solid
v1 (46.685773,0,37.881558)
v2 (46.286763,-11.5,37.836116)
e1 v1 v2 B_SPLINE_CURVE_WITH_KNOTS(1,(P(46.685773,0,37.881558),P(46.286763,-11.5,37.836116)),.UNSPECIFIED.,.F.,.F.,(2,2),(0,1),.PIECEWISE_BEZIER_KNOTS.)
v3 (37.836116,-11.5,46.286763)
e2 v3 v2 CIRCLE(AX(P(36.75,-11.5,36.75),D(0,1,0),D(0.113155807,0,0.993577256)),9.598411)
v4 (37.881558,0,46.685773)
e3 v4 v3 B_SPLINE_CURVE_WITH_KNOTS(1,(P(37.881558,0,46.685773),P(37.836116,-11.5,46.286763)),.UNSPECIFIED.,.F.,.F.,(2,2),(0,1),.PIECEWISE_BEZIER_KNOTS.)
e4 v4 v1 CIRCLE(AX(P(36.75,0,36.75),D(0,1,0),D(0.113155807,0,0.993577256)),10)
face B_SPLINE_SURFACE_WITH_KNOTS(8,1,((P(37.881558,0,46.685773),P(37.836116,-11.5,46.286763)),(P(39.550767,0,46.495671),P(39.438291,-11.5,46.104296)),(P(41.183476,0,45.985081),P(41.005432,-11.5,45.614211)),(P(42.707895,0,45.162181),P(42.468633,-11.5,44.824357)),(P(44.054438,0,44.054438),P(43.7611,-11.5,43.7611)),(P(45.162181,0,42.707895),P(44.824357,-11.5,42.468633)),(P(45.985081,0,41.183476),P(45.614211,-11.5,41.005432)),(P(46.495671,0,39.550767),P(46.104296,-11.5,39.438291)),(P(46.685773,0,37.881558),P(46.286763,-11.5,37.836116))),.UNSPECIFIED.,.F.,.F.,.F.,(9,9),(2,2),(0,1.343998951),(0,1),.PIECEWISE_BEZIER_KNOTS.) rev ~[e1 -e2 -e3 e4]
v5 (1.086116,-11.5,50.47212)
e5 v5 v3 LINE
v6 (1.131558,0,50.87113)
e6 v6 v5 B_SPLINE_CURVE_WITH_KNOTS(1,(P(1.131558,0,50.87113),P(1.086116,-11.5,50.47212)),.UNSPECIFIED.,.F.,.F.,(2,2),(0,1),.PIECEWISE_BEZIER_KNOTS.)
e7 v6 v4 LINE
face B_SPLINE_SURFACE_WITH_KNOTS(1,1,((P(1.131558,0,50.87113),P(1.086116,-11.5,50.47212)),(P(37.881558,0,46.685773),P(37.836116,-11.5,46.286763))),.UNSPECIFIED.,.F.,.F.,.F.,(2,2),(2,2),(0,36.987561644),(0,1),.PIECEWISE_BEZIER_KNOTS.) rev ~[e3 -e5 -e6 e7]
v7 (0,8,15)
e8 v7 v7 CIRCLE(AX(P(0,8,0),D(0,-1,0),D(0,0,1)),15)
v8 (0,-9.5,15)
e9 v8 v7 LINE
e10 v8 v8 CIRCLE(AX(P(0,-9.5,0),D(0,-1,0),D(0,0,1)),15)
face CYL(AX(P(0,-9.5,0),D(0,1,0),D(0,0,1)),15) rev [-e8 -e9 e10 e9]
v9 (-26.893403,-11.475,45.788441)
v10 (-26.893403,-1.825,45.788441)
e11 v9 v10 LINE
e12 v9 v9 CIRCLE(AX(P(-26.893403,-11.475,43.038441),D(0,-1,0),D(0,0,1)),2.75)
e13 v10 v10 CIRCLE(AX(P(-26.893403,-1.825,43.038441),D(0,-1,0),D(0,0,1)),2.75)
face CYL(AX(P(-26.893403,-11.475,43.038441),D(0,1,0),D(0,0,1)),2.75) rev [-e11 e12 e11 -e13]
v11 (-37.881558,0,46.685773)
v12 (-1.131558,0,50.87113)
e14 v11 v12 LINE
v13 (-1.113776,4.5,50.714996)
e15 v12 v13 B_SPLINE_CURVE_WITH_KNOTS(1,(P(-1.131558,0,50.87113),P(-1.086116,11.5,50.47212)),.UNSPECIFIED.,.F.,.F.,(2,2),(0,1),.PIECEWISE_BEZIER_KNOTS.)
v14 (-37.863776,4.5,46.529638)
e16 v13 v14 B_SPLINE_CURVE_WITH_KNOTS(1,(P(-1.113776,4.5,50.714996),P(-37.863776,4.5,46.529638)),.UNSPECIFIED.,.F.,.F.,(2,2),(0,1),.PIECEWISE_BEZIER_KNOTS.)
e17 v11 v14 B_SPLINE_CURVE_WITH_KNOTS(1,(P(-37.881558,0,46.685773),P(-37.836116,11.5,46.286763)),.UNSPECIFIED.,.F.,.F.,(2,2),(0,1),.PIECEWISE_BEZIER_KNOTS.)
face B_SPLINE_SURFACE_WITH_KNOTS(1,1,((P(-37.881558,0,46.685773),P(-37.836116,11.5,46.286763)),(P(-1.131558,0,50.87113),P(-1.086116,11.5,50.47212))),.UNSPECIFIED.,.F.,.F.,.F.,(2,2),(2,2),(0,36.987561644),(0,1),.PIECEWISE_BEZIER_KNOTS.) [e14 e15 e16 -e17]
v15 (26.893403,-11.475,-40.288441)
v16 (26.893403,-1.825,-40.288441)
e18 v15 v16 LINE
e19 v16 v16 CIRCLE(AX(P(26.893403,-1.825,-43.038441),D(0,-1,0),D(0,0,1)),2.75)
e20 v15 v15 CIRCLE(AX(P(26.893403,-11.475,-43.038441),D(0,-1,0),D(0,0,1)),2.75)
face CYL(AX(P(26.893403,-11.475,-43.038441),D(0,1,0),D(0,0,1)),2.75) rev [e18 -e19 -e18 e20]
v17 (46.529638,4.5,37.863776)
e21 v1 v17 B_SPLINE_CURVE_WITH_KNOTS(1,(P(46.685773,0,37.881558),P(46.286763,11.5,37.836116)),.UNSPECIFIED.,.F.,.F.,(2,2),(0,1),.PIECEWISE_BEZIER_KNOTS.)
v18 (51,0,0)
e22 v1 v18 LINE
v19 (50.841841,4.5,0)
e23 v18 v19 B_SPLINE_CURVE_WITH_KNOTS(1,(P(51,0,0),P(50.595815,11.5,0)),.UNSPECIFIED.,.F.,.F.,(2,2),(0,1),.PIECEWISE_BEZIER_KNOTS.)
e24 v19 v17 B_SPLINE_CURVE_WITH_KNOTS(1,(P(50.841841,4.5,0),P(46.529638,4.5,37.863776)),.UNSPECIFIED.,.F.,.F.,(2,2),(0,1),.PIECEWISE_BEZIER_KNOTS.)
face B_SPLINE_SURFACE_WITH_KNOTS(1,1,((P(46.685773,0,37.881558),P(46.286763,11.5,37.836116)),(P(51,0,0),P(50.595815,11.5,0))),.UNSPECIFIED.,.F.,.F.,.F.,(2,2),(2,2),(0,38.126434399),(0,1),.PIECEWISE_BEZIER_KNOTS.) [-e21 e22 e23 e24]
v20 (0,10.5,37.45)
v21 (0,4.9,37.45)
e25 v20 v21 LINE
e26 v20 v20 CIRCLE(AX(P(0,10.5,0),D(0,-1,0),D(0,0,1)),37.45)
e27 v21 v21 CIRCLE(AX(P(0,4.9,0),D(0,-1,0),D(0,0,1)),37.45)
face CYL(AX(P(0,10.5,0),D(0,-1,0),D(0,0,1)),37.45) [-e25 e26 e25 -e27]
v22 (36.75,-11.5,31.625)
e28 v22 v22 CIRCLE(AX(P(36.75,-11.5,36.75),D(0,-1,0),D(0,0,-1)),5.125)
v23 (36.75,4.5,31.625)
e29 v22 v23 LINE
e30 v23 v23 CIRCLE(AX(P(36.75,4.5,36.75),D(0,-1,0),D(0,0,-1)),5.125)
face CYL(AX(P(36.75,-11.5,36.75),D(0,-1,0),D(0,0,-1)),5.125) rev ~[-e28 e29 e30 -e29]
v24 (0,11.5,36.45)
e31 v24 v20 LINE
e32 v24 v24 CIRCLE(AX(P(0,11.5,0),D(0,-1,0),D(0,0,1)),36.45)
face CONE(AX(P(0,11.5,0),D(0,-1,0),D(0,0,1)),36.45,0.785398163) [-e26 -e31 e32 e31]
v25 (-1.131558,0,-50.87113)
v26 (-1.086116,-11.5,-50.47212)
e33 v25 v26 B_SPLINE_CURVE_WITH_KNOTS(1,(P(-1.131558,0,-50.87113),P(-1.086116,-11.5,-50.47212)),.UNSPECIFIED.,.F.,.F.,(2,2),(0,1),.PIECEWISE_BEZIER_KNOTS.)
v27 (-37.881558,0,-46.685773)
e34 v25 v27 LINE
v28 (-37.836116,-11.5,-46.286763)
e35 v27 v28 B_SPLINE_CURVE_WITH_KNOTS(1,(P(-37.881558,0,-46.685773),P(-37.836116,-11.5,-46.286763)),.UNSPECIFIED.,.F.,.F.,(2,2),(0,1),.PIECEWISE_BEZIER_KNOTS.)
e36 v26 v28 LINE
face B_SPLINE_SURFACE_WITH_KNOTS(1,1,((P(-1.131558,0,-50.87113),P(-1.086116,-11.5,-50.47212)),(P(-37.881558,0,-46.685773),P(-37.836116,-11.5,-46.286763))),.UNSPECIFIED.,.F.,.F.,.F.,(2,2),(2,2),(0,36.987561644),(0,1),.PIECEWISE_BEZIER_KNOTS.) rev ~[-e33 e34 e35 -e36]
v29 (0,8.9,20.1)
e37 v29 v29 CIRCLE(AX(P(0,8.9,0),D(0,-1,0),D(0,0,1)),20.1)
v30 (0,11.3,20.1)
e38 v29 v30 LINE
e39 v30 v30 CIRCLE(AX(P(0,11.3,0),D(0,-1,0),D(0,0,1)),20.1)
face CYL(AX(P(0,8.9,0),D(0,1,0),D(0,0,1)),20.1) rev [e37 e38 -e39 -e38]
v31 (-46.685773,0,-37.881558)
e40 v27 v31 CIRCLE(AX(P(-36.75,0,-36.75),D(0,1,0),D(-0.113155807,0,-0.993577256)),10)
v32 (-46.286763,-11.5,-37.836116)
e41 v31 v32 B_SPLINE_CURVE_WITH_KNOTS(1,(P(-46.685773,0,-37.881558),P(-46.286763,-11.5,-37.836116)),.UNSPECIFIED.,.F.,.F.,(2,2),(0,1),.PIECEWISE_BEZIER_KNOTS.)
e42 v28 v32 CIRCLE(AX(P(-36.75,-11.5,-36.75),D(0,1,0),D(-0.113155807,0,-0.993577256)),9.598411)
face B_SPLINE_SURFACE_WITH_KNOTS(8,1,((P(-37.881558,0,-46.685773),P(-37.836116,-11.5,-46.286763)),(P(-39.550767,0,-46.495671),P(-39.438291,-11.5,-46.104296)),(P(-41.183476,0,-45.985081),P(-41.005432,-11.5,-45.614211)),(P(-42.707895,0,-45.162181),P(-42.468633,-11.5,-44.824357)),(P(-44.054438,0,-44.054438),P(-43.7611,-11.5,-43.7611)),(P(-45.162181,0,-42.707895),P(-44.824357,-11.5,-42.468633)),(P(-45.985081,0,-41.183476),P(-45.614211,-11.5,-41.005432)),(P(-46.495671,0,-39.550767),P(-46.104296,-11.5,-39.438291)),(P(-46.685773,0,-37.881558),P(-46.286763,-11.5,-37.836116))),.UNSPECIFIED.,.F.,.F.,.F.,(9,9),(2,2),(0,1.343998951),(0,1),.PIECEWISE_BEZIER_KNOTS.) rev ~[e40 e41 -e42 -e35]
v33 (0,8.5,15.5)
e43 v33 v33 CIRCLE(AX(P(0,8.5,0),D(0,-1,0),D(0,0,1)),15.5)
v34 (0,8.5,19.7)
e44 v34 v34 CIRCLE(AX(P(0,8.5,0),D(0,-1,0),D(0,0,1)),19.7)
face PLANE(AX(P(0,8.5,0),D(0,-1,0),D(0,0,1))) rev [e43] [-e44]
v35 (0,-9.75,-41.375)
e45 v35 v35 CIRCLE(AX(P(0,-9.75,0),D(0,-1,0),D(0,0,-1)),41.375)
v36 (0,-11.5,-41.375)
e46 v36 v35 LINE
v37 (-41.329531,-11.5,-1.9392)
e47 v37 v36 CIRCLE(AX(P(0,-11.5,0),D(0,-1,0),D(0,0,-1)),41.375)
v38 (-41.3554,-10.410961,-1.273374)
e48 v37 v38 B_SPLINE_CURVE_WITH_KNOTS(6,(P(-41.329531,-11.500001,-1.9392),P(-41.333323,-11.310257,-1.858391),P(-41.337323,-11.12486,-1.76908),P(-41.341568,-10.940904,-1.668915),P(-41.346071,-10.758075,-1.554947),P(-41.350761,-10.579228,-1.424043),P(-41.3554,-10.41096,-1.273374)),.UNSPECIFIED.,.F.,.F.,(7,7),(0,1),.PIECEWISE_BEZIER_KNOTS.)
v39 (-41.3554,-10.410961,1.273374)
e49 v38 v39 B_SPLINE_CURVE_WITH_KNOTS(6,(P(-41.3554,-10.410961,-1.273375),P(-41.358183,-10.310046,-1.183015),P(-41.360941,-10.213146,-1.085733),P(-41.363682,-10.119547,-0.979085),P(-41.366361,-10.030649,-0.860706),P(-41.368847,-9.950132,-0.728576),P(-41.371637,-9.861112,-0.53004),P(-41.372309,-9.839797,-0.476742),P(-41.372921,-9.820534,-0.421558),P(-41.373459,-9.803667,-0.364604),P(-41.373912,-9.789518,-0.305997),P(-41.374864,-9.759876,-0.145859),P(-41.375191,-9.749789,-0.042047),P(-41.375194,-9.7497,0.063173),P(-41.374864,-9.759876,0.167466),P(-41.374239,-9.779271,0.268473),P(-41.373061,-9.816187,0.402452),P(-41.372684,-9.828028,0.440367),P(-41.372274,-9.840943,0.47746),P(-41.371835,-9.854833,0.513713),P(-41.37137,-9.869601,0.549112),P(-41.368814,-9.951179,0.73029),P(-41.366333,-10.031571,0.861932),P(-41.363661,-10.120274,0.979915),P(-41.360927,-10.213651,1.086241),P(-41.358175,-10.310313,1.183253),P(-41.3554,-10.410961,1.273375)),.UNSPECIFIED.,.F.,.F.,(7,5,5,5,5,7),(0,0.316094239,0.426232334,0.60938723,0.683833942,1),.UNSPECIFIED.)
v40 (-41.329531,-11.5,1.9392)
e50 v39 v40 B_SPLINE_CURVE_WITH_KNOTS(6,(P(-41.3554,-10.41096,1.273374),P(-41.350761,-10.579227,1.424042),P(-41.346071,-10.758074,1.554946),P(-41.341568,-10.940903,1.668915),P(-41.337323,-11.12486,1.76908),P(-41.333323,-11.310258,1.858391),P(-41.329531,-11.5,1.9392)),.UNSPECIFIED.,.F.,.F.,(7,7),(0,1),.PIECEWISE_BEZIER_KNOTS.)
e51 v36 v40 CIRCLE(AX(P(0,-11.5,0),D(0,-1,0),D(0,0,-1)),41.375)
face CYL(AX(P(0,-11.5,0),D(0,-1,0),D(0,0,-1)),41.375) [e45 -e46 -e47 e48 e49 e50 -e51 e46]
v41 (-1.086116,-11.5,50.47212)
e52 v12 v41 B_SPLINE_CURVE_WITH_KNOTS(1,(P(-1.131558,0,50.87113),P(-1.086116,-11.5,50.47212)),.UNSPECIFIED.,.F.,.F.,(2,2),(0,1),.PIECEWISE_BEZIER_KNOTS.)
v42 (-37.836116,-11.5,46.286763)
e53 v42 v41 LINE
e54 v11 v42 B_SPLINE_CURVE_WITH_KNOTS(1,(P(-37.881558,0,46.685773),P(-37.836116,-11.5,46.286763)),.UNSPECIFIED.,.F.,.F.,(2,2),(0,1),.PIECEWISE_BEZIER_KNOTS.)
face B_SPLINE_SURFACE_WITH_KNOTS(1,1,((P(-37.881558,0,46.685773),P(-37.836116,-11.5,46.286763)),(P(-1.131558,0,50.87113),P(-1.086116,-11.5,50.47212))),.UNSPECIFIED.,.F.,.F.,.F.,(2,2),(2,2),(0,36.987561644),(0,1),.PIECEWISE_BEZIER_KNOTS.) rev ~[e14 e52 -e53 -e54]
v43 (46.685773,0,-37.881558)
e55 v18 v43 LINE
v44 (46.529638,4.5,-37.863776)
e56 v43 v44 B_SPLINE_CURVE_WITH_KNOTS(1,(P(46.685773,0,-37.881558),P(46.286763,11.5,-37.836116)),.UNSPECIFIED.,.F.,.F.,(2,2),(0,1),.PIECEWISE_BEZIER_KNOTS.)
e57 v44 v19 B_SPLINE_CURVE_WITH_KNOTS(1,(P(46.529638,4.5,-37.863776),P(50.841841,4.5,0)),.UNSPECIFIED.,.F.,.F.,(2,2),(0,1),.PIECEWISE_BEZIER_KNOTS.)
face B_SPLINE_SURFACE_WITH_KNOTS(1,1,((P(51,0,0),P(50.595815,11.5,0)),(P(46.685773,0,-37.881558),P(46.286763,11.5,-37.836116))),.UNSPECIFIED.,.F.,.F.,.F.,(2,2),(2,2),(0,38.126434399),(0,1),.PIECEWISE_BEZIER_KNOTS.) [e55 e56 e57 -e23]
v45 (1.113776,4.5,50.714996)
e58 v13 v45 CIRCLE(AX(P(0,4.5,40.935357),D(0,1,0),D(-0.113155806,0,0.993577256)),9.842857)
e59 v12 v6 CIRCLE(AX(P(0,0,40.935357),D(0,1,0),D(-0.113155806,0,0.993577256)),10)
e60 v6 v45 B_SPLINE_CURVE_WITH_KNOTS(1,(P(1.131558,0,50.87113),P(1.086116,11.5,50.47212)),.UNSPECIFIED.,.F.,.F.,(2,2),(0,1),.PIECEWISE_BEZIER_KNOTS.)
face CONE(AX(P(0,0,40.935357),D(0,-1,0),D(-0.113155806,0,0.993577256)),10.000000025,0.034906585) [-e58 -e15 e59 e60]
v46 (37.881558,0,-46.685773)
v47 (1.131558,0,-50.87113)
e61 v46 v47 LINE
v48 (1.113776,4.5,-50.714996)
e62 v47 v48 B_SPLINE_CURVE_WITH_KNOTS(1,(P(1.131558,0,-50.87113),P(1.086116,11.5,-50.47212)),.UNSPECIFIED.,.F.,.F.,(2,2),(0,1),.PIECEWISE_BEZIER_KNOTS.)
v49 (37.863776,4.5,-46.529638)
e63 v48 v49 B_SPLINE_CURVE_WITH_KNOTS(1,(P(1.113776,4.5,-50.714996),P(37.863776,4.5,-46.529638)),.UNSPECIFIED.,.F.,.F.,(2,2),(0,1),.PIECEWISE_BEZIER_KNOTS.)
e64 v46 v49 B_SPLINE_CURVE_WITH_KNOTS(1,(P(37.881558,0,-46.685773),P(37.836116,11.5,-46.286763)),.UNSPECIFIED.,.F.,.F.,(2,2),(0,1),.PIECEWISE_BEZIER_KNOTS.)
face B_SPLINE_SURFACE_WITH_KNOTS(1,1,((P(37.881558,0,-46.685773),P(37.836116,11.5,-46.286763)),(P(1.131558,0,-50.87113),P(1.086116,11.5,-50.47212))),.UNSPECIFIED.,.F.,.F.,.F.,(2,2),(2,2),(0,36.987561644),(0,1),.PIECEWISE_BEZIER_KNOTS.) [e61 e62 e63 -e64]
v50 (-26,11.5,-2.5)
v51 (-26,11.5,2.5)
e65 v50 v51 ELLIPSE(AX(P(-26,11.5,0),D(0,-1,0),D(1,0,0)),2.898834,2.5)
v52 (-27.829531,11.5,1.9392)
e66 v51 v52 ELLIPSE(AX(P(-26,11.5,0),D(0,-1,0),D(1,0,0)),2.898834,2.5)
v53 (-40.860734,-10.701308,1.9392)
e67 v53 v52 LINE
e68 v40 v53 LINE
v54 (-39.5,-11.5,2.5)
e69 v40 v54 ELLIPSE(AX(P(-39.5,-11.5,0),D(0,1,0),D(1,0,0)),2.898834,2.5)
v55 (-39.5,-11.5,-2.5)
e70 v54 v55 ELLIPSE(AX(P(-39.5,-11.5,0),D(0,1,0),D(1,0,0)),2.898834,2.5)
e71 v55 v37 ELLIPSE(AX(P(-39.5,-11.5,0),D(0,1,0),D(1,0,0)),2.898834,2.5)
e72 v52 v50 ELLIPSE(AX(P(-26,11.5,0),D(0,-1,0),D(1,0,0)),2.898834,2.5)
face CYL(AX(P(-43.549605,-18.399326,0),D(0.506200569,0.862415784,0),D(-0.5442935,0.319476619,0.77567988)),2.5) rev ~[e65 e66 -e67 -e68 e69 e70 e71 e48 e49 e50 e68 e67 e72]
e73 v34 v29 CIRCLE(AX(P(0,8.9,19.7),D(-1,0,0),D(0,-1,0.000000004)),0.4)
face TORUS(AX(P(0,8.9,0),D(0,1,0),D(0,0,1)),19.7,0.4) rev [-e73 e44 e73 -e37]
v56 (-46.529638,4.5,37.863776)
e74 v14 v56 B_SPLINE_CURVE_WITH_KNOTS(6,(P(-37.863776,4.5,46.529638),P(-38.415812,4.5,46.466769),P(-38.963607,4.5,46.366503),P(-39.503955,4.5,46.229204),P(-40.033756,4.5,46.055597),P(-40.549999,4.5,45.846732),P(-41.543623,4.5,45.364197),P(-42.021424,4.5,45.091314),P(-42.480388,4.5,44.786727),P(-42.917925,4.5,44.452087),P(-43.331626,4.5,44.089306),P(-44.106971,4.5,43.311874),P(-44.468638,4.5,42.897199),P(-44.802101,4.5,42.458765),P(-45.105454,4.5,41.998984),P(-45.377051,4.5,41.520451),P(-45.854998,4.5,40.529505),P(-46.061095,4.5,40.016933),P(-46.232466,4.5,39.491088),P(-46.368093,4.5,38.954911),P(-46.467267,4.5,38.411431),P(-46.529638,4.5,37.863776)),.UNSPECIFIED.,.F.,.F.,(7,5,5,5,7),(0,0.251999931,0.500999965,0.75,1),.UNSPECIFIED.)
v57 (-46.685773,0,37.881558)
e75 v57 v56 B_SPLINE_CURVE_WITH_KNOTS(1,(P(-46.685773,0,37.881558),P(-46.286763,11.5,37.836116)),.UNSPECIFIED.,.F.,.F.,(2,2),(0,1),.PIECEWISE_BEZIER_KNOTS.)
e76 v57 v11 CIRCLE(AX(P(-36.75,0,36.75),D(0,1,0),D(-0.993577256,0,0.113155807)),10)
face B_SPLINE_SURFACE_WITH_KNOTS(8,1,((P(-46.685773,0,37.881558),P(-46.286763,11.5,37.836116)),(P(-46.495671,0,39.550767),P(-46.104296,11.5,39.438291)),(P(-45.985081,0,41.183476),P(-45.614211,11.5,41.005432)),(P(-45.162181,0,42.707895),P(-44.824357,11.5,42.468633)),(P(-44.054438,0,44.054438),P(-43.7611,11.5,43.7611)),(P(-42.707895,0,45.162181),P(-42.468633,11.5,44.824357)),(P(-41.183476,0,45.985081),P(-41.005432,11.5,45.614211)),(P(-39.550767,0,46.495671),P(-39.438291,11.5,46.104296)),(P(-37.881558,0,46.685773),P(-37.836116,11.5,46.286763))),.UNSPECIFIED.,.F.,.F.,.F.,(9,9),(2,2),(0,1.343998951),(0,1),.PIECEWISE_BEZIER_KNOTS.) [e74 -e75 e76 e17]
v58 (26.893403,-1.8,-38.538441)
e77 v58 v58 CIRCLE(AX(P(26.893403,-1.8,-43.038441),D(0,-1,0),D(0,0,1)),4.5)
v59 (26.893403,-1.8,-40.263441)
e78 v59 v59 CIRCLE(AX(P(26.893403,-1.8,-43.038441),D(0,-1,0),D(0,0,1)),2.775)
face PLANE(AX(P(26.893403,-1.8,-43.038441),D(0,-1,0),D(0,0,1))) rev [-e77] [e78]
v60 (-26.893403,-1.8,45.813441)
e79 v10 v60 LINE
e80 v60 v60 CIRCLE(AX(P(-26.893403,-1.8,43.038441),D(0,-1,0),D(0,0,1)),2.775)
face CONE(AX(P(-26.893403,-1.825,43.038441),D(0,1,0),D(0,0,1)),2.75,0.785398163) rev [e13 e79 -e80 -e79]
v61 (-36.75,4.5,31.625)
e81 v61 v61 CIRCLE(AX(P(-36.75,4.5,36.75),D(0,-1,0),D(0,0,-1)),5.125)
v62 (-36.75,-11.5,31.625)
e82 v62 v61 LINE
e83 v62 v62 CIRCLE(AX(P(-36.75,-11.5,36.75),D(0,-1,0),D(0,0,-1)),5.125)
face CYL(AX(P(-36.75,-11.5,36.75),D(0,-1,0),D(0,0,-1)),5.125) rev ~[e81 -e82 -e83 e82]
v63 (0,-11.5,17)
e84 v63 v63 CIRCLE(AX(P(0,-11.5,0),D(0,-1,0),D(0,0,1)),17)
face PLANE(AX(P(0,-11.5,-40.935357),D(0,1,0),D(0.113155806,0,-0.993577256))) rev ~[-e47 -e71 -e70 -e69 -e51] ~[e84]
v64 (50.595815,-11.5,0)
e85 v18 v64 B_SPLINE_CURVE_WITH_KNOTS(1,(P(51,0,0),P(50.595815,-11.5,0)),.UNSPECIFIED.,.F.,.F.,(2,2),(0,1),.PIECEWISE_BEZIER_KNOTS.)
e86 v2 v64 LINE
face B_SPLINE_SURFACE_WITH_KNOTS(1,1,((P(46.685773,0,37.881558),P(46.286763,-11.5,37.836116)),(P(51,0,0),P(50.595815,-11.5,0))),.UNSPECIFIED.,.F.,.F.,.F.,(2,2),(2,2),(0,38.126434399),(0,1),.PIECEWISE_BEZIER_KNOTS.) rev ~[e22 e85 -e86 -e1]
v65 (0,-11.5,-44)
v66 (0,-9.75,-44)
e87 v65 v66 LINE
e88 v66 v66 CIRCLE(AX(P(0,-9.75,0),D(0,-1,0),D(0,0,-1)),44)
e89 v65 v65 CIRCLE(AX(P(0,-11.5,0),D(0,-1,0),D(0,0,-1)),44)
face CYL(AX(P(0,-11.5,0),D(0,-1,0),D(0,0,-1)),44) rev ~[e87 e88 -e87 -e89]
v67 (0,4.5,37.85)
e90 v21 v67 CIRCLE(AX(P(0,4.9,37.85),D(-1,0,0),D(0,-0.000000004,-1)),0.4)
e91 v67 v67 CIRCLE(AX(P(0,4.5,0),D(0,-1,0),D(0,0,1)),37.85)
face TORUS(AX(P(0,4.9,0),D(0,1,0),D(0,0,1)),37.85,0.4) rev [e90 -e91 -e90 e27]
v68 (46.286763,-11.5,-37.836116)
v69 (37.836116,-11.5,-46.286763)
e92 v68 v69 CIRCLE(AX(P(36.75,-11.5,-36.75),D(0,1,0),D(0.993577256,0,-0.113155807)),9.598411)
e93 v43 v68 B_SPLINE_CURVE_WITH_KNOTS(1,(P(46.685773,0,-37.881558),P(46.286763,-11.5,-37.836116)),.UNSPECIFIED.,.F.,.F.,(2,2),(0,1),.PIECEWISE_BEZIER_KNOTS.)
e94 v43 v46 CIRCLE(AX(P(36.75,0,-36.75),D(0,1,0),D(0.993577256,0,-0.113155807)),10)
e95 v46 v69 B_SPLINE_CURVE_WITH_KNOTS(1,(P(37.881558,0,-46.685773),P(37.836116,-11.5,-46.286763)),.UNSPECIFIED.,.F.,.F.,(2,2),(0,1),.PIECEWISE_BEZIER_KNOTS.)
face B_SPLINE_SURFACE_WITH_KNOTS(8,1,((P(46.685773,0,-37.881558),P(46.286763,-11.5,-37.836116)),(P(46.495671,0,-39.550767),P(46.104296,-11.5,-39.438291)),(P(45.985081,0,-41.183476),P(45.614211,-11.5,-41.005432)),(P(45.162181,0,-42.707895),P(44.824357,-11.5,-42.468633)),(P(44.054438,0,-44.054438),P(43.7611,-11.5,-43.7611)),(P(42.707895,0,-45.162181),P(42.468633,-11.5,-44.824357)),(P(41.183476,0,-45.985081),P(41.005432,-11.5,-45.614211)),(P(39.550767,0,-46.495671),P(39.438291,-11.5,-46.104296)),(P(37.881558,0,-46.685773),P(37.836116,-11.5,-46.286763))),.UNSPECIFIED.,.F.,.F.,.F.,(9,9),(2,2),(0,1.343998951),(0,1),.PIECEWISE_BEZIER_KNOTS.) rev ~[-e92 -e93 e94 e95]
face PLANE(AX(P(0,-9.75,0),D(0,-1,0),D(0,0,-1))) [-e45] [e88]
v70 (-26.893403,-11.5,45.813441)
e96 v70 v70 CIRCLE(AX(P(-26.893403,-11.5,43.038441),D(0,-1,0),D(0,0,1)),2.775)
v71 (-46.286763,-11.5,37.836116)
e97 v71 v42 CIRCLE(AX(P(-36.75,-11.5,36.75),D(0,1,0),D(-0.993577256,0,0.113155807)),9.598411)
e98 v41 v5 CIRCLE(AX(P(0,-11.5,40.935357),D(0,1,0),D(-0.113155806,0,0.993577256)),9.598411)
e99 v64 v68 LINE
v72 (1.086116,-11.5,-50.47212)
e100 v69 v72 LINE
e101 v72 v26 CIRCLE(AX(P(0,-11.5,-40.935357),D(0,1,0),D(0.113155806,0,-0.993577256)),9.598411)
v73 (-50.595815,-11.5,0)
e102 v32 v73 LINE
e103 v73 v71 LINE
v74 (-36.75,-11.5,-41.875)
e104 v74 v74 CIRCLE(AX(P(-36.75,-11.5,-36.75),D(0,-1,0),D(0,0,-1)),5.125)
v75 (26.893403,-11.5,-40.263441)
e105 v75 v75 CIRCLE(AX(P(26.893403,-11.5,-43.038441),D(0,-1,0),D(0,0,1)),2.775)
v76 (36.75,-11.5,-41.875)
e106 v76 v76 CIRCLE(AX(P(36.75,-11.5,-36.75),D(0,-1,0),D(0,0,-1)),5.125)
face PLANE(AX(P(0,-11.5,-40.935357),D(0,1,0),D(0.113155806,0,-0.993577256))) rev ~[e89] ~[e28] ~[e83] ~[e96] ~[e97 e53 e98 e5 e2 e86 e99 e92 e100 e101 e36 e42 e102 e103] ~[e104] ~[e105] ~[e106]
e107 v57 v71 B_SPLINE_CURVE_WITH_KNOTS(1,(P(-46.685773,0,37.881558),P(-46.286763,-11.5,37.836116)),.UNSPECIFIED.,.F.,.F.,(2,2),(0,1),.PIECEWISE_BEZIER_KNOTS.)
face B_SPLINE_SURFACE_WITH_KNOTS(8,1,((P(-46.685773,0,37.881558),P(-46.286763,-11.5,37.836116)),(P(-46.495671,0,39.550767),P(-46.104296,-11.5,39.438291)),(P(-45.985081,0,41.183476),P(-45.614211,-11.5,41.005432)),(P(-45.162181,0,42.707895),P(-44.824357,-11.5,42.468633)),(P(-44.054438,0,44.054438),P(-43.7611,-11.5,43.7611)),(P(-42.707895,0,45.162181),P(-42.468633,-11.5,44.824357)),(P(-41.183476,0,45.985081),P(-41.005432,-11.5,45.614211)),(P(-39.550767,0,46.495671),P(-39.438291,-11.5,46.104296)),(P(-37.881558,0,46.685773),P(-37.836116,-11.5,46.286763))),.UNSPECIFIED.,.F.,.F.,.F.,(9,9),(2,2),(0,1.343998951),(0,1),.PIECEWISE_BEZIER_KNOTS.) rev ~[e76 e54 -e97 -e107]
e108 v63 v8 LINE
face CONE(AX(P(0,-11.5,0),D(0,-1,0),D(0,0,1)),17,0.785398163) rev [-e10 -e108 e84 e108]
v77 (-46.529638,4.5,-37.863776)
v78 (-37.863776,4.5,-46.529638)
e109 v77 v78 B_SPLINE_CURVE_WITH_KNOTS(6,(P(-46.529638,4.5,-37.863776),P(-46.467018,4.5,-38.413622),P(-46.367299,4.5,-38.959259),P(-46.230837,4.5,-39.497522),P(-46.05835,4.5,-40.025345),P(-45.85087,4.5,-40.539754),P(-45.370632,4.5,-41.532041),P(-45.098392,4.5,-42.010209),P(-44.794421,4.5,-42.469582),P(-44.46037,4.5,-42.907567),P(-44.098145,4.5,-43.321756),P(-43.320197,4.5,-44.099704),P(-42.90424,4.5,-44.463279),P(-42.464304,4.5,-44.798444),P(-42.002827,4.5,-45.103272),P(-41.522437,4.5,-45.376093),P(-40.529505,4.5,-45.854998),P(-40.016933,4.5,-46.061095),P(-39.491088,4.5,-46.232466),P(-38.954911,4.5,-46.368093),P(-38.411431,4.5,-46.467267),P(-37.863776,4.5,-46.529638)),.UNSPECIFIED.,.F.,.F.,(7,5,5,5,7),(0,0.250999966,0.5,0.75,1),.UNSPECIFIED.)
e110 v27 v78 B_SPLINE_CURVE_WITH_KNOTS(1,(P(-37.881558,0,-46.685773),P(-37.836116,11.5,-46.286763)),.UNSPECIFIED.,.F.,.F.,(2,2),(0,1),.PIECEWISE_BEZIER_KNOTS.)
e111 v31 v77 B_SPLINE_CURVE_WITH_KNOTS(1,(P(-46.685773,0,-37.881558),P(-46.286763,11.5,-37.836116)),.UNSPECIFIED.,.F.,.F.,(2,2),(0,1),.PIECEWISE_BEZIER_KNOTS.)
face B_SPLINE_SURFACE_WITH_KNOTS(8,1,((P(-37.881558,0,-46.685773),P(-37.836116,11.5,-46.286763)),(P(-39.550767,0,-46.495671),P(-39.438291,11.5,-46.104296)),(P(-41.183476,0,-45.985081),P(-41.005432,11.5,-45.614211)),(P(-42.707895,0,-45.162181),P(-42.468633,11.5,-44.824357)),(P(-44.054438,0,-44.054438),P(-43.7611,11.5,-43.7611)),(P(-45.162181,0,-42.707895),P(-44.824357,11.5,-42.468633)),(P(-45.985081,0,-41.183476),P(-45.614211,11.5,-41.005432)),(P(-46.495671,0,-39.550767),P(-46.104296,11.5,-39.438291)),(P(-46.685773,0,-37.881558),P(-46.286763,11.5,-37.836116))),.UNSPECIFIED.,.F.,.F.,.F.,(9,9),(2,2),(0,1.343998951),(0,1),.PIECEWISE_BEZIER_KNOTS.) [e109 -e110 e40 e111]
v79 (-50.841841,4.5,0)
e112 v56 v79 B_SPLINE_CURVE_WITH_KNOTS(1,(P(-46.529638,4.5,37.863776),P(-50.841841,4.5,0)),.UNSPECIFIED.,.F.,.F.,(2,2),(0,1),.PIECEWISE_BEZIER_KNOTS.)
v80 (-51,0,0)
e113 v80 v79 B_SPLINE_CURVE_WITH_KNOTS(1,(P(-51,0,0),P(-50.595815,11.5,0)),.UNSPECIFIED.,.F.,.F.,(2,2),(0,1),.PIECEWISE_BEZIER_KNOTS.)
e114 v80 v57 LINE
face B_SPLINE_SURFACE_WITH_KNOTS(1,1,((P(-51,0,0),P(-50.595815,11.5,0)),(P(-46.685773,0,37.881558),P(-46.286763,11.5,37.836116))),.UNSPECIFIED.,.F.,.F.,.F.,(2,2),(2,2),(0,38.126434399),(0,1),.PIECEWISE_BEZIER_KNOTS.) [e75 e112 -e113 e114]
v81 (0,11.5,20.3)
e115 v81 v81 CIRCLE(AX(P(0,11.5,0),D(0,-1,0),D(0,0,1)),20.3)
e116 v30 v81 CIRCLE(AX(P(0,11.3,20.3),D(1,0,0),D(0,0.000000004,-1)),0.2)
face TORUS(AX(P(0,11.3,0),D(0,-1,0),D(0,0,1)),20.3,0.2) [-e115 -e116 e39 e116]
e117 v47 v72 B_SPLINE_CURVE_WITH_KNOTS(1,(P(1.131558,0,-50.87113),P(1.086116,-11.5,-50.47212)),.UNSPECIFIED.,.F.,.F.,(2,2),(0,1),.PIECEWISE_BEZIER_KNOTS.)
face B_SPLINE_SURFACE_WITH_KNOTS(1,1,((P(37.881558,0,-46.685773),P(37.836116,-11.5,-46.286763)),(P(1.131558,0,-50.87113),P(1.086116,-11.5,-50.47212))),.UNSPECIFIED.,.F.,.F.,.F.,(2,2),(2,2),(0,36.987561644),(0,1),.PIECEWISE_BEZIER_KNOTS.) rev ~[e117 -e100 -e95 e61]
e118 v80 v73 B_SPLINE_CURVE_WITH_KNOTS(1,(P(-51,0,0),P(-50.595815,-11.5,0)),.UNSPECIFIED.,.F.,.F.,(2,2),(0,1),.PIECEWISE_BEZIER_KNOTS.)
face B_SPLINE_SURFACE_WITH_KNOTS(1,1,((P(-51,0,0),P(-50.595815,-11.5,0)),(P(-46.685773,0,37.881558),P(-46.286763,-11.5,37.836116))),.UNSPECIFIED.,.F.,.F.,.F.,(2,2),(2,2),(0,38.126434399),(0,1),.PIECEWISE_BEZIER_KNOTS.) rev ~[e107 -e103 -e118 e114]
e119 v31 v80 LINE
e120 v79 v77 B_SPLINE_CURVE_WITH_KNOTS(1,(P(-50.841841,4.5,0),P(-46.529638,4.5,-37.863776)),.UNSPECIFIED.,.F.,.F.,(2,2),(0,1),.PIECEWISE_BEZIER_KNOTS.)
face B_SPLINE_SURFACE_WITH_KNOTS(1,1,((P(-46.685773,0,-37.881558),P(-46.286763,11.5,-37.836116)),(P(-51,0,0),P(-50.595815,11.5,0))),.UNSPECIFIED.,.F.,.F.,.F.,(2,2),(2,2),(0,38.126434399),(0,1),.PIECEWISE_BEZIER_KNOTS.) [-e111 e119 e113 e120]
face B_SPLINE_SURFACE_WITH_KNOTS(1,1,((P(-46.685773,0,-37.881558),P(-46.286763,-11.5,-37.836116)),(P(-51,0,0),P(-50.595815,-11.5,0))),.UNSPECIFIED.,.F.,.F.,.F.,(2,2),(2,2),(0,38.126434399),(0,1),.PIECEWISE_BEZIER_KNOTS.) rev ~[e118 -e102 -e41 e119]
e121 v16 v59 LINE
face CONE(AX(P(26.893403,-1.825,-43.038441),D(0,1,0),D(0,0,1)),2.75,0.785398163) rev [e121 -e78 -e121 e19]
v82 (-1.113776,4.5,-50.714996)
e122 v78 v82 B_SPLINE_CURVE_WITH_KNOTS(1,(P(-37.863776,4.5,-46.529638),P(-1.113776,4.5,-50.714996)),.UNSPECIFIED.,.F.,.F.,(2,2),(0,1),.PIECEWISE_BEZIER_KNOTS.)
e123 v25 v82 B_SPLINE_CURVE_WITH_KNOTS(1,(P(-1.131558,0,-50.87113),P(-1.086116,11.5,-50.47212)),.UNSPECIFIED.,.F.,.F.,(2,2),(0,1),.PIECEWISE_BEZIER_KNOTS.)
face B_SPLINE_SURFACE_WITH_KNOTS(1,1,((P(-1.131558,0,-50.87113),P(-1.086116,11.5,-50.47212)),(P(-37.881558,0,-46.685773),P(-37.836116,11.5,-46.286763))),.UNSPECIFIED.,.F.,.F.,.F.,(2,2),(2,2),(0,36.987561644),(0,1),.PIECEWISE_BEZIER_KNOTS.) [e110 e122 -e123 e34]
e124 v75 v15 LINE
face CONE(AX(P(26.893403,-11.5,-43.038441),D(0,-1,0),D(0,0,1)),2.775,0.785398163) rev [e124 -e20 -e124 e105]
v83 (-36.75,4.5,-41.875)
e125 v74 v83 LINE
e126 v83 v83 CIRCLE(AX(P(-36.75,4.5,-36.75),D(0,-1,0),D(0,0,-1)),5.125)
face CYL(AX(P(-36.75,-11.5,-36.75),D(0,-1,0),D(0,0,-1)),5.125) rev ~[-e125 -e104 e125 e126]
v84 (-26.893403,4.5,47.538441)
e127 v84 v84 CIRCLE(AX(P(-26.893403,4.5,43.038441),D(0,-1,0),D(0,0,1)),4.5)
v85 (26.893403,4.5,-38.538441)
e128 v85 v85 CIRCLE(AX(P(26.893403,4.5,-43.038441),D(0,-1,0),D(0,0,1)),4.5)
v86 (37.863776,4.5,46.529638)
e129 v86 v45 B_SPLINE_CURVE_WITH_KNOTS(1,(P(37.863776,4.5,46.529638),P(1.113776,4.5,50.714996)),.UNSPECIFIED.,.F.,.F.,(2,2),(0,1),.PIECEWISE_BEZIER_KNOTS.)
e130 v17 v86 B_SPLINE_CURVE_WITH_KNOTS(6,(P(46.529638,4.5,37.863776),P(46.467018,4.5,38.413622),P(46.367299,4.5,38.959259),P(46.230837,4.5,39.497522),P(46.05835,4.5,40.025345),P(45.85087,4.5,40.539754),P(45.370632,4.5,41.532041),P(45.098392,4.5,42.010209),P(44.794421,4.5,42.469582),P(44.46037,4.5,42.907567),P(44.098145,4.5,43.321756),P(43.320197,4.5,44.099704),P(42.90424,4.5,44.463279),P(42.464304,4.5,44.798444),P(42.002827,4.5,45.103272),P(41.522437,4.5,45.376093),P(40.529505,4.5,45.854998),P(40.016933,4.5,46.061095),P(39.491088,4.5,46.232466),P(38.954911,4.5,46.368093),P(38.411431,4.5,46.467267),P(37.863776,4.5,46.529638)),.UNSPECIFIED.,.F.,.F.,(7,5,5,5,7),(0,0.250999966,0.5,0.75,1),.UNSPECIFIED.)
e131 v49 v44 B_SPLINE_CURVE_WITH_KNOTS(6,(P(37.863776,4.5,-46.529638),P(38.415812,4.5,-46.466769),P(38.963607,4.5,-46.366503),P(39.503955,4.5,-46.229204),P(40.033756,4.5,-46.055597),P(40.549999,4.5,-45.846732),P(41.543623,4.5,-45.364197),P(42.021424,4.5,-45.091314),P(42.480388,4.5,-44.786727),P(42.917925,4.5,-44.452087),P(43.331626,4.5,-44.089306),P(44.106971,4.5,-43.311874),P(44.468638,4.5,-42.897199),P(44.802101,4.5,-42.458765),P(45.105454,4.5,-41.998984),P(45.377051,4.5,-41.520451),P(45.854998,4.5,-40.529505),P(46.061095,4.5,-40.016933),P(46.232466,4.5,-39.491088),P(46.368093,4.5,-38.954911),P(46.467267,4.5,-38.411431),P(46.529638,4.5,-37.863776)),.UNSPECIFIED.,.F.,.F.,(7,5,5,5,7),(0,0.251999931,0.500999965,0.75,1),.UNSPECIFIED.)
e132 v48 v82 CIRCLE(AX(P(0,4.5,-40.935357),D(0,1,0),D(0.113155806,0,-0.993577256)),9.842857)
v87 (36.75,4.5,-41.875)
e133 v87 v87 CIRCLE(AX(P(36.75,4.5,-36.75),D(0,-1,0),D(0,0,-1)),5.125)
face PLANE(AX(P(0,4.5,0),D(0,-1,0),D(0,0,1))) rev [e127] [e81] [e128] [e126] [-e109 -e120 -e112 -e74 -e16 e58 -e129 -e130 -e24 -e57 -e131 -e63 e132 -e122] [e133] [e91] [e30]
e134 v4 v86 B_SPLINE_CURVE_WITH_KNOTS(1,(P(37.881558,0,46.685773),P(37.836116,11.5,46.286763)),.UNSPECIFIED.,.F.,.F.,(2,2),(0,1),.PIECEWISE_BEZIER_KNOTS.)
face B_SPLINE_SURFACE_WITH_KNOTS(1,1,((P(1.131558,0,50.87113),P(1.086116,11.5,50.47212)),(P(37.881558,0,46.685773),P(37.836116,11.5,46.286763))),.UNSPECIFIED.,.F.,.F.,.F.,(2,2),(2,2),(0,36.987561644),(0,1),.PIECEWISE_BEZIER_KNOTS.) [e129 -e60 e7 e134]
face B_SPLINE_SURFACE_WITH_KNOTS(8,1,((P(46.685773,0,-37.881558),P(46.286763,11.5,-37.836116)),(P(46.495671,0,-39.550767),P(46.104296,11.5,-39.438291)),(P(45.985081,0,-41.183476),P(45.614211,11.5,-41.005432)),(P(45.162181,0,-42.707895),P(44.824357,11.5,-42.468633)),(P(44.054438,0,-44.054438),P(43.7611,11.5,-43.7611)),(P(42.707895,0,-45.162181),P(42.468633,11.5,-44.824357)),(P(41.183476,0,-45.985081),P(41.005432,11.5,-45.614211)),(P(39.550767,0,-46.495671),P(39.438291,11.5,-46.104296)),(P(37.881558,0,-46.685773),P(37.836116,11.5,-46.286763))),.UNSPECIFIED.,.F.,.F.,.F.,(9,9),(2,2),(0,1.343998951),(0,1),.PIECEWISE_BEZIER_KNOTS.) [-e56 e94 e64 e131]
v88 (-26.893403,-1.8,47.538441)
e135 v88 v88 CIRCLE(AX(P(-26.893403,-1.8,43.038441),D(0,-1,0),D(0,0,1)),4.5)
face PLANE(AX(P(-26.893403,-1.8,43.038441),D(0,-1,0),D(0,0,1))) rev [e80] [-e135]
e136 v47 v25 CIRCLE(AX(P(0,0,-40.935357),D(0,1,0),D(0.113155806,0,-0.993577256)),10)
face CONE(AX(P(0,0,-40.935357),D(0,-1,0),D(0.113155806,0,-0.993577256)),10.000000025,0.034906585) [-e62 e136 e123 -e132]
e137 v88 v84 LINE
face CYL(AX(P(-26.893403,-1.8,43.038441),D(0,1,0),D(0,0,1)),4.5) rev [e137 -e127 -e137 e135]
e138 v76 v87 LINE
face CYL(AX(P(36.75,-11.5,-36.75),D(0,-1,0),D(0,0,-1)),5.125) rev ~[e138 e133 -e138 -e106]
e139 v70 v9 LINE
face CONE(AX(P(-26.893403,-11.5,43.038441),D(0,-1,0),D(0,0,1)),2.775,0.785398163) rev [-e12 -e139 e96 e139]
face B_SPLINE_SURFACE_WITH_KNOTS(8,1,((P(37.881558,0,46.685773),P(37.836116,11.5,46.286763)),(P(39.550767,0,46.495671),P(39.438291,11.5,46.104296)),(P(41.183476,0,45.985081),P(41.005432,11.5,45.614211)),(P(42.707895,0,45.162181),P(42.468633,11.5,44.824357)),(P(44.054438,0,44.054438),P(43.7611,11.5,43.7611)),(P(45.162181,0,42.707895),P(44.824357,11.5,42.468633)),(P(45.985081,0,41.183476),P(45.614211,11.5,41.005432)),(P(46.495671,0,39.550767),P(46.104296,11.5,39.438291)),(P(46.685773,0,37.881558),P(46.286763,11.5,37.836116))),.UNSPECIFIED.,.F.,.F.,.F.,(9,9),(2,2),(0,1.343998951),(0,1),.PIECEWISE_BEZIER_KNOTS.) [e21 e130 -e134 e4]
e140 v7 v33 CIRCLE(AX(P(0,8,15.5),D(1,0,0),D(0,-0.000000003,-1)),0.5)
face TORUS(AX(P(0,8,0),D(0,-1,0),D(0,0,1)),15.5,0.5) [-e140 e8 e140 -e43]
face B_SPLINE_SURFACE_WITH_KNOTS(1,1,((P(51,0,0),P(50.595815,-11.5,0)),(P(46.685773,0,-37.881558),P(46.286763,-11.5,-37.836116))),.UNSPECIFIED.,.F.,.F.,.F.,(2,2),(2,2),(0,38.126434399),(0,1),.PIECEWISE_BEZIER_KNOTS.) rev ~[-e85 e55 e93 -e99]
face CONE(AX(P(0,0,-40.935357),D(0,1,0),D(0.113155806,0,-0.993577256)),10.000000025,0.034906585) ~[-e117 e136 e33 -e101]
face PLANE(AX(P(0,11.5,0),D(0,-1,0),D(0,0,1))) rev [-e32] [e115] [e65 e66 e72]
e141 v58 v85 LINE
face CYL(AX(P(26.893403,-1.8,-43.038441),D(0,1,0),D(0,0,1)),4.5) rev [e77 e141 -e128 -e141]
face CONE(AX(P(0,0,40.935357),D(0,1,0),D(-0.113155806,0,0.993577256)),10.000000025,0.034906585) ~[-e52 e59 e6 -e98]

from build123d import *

# Parameters (mm, degrees)
BOSS_EXTRUDE1_DEPTH                          = 11.5
BOSS_EXTRUDE1_TAPER                          = 2
BOSS_EXTRUDE1_OTHER_WAY_DEPTH                = 11.5
BOSS_EXTRUDE1_OTHER_WAY_TAPER                = 2
SKETCH5_R                                    = 5.125
CUT_EXTRUDE3_DEPTH                           = 76.659835157
SKETCH4_R                                    = 44
SKETCH4_R_2                                  = 41.375
CUT_EXTRUDE2_DEPTH                           = 1.75
CBORE_FOR_M5_HEX_SOCKET_HEAD_CAP_SCR_2_COUNT = 2
CBORE_FOR_M5_HEX_SOCKET_HEAD_CAP_SCR_2_PITCH = 101.5


with BuildPart() as part:
    # Sketch2 → Boss-Extrude1 (new body)
    with BuildSketch(Plane(origin=(0, 0, 0), x_dir=(1, 0, 0), z_dir=(0, 1, 0))):
        with BuildLine():
            ThreePointArc((1.131558067, 50.871129935), (0, 50.935357376), (-1.131558067, 50.871129935))
            Line((-1.131558067, 50.871129935), (-37.881558067, 46.685772559))
            ThreePointArc((-37.881558067, 46.685772559), (-43.821067812, 43.821067812), (-46.685772559, 37.881558067))
            Line((-46.685772559, 37.881558067), (-51, 0))
            Line((-51, 0), (-46.685772559, -37.881558067))
            ThreePointArc((-46.685772559, -37.881558067), (-43.821067812, -43.821067812), (-37.881558067, -46.685772559))
            Line((-37.881558067, -46.685772559), (-1.131558067, -50.871129935))
            ThreePointArc((-1.131558067, -50.871129935), (0, -50.935357376), (1.131558067, -50.871129935))
            Line((1.131558067, -50.871129935), (37.881558067, -46.685772559))
            ThreePointArc((37.881558067, -46.685772559), (43.821067812, -43.821067812), (46.685772559, -37.881558067))
            Line((46.685772559, -37.881558067), (51, 0))
            Line((51, 0), (46.685772559, 37.881558067))
            ThreePointArc((46.685772559, 37.881558067), (43.821067812, 43.821067812), (37.881558067, 46.685772559))
            Line((37.881558067, 46.685772559), (1.131558067, 50.871129935))
        make_face()
    extrude(amount=BOSS_EXTRUDE1_DEPTH, taper=BOSS_EXTRUDE1_TAPER)

    # Sketch2 → Boss-Extrude1 other way (add)
    with BuildSketch(Plane(origin=(0, 0, 0), x_dir=(1, 0, 0), z_dir=(0, 1, 0))):
        with BuildLine():
            ThreePointArc((1.131558067, 50.871129935), (0, 50.935357376), (-1.131558067, 50.871129935))
            Line((-1.131558067, 50.871129935), (-37.881558067, 46.685772559))
            ThreePointArc((-37.881558067, 46.685772559), (-43.821067812, 43.821067812), (-46.685772559, 37.881558067))
            Line((-46.685772559, 37.881558067), (-51, 0))
            Line((-51, 0), (-46.685772559, -37.881558067))
            ThreePointArc((-46.685772559, -37.881558067), (-43.821067812, -43.821067812), (-37.881558067, -46.685772559))
            Line((-37.881558067, -46.685772559), (-1.131558067, -50.871129935))
            ThreePointArc((-1.131558067, -50.871129935), (0, -50.935357376), (1.131558067, -50.871129935))
            Line((1.131558067, -50.871129935), (37.881558067, -46.685772559))
            ThreePointArc((37.881558067, -46.685772559), (43.821067812, -43.821067812), (46.685772559, -37.881558067))
            Line((46.685772559, -37.881558067), (51, 0))
            Line((51, 0), (46.685772559, 37.881558067))
            ThreePointArc((46.685772559, 37.881558067), (43.821067812, 43.821067812), (37.881558067, 46.685772559))
            Line((37.881558067, 46.685772559), (1.131558067, 50.871129935))
        make_face()
    extrude(amount=-BOSS_EXTRUDE1_OTHER_WAY_DEPTH, taper=BOSS_EXTRUDE1_OTHER_WAY_TAPER)

    # Sketch5 → Cut-Extrude3 (cut, through all)
    with BuildSketch(Plane.XZ.offset(11.5)):
        with Locations(Location((-36.75, 36.75, 0), (0, 0, 270))):
            Circle(SKETCH5_R)
        with Locations(Location((36.75, 36.75, 0), (0, 0, 270))):
            Circle(SKETCH5_R)
        with Locations(Location((-36.75, -36.75, 0), (0, 0, 270))):
            Circle(SKETCH5_R)
        with Locations(Location((36.75, -36.75, 0), (0, 0, 270))):
            Circle(SKETCH5_R)
    extrude(amount=-CUT_EXTRUDE3_DEPTH, mode=Mode.SUBTRACT)

    # Sketch4 → Cut-Extrude2 (cut)
    with BuildSketch(Plane.XZ.offset(11.5)):
        with Locations(Location((0, 0, 0), (0, 0, 270))):
            Circle(SKETCH4_R)
        with Locations(Location((0, 0, 0), (0, 0, 270))):
            Circle(SKETCH4_R_2, mode=Mode.SUBTRACT)
    extrude(amount=-CUT_EXTRUDE2_DEPTH, mode=Mode.SUBTRACT)

    # Sketch6 → Cut-Revolve1 (revolve, cut)
    with BuildSketch(Plane(origin=(0, 0, 0), x_dir=(0, 0, -1), z_dir=(1, 0, 0)), mode=Mode.PRIVATE) as cut_revolve1_sk:
        with BuildLine():
            Line((37.45, 10.5), (37.45, 4.9))
            ThreePointArc((37.45, 4.9), (37.567157288, 4.617157288), (37.85, 4.5))
            Line((37.85, 4.5), (75, 4.5))
            Line((75, 4.5), (75, 13.5))
            Line((75, 13.5), (0, 13.5))
            Line((0, 13.5), (0, -11.5))
            Line((0, -11.5), (17, -11.5))
            Line((17, -11.5), (15, -9.5))
            Line((15, -9.5), (15, 8))
            ThreePointArc((15, 8), (15.146446609, 8.353553391), (15.5, 8.5))
            Line((15.5, 8.5), (19.7, 8.5))
            ThreePointArc((19.7, 8.5), (19.982842712, 8.617157288), (20.1, 8.9))
            Line((20.1, 8.9), (20.1, 11.3))
            ThreePointArc((20.1, 11.3), (20.158578644, 11.441421356), (20.3, 11.5))
            Line((20.3, 11.5), (36.45, 11.5))
            Line((36.45, 11.5), (37.45, 10.5))
        make_face()
    revolve(cut_revolve1_sk.sketch.rotate(Axis((0, 29.196100586, 0), (0, -1, 0)), 180), axis=Axis((0, 29.196100586, 0), (0, -1, 0)), mode=Mode.SUBTRACT)

    # Sketch9 → Cut-Revolve2 (revolve, cut)
    with BuildSketch(Plane.XY, mode=Mode.PRIVATE) as cut_revolve2_sk:
        Polygon((-37.34396054, -12.765501422), (-23.84396054, 10.234498578), (-22.346696913, 12.785392166), (-24.502736372, 14.050893588), (-43.54960455, -18.399326271), (-41.393565091, -19.664827692), align=None)
    revolve(cut_revolve2_sk.sketch.rotate(Axis((-43.54960455, -18.399326271, 0), (0.5062005687642237, 0.8624157838205285, 0)), 230.866713555), axis=Axis((-43.54960455, -18.399326271, 0), (0.5062005687642237, 0.8624157838205285, 0)), mode=Mode.SUBTRACT)

    # Sketch12 → CBORE for M5 Hex Socket Head Cap Screw1 (revolve, cut)
    with BuildSketch(Plane(origin=(26.89340266, 4.5, -43.03844088), x_dir=(0, 0, 1), z_dir=(1, 0, 0))):
        Polygon((0, 0), (0, 16), (2.775, 16), (2.75, 15.975), (2.75, 6.325), (2.775, 6.3), (4.5, 6.3), (4.5, 0), align=None)
    cbore_for_m5_hex_socket_head_cap_screw1 = revolve(axis=Axis((26.89340266, 10.85, -43.03844088), (0, -1, 0)), mode=Mode.SUBTRACT)

    # CBORE for M5 Hex Socket Head Cap Scr 2: CBORE for M5 Hex Socket Head Cap Screw1 ×2
    with Locations(*[Vector(-0.5299192642331998, 0, 0.8480480961564293) * (i * CBORE_FOR_M5_HEX_SOCKET_HEAD_CAP_SCR_2_PITCH) for i in range(1, CBORE_FOR_M5_HEX_SOCKET_HEAD_CAP_SCR_2_COUNT)]):
        add(cbore_for_m5_hex_socket_head_cap_screw1, mode=Mode.SUBTRACT)


solid = part.part
